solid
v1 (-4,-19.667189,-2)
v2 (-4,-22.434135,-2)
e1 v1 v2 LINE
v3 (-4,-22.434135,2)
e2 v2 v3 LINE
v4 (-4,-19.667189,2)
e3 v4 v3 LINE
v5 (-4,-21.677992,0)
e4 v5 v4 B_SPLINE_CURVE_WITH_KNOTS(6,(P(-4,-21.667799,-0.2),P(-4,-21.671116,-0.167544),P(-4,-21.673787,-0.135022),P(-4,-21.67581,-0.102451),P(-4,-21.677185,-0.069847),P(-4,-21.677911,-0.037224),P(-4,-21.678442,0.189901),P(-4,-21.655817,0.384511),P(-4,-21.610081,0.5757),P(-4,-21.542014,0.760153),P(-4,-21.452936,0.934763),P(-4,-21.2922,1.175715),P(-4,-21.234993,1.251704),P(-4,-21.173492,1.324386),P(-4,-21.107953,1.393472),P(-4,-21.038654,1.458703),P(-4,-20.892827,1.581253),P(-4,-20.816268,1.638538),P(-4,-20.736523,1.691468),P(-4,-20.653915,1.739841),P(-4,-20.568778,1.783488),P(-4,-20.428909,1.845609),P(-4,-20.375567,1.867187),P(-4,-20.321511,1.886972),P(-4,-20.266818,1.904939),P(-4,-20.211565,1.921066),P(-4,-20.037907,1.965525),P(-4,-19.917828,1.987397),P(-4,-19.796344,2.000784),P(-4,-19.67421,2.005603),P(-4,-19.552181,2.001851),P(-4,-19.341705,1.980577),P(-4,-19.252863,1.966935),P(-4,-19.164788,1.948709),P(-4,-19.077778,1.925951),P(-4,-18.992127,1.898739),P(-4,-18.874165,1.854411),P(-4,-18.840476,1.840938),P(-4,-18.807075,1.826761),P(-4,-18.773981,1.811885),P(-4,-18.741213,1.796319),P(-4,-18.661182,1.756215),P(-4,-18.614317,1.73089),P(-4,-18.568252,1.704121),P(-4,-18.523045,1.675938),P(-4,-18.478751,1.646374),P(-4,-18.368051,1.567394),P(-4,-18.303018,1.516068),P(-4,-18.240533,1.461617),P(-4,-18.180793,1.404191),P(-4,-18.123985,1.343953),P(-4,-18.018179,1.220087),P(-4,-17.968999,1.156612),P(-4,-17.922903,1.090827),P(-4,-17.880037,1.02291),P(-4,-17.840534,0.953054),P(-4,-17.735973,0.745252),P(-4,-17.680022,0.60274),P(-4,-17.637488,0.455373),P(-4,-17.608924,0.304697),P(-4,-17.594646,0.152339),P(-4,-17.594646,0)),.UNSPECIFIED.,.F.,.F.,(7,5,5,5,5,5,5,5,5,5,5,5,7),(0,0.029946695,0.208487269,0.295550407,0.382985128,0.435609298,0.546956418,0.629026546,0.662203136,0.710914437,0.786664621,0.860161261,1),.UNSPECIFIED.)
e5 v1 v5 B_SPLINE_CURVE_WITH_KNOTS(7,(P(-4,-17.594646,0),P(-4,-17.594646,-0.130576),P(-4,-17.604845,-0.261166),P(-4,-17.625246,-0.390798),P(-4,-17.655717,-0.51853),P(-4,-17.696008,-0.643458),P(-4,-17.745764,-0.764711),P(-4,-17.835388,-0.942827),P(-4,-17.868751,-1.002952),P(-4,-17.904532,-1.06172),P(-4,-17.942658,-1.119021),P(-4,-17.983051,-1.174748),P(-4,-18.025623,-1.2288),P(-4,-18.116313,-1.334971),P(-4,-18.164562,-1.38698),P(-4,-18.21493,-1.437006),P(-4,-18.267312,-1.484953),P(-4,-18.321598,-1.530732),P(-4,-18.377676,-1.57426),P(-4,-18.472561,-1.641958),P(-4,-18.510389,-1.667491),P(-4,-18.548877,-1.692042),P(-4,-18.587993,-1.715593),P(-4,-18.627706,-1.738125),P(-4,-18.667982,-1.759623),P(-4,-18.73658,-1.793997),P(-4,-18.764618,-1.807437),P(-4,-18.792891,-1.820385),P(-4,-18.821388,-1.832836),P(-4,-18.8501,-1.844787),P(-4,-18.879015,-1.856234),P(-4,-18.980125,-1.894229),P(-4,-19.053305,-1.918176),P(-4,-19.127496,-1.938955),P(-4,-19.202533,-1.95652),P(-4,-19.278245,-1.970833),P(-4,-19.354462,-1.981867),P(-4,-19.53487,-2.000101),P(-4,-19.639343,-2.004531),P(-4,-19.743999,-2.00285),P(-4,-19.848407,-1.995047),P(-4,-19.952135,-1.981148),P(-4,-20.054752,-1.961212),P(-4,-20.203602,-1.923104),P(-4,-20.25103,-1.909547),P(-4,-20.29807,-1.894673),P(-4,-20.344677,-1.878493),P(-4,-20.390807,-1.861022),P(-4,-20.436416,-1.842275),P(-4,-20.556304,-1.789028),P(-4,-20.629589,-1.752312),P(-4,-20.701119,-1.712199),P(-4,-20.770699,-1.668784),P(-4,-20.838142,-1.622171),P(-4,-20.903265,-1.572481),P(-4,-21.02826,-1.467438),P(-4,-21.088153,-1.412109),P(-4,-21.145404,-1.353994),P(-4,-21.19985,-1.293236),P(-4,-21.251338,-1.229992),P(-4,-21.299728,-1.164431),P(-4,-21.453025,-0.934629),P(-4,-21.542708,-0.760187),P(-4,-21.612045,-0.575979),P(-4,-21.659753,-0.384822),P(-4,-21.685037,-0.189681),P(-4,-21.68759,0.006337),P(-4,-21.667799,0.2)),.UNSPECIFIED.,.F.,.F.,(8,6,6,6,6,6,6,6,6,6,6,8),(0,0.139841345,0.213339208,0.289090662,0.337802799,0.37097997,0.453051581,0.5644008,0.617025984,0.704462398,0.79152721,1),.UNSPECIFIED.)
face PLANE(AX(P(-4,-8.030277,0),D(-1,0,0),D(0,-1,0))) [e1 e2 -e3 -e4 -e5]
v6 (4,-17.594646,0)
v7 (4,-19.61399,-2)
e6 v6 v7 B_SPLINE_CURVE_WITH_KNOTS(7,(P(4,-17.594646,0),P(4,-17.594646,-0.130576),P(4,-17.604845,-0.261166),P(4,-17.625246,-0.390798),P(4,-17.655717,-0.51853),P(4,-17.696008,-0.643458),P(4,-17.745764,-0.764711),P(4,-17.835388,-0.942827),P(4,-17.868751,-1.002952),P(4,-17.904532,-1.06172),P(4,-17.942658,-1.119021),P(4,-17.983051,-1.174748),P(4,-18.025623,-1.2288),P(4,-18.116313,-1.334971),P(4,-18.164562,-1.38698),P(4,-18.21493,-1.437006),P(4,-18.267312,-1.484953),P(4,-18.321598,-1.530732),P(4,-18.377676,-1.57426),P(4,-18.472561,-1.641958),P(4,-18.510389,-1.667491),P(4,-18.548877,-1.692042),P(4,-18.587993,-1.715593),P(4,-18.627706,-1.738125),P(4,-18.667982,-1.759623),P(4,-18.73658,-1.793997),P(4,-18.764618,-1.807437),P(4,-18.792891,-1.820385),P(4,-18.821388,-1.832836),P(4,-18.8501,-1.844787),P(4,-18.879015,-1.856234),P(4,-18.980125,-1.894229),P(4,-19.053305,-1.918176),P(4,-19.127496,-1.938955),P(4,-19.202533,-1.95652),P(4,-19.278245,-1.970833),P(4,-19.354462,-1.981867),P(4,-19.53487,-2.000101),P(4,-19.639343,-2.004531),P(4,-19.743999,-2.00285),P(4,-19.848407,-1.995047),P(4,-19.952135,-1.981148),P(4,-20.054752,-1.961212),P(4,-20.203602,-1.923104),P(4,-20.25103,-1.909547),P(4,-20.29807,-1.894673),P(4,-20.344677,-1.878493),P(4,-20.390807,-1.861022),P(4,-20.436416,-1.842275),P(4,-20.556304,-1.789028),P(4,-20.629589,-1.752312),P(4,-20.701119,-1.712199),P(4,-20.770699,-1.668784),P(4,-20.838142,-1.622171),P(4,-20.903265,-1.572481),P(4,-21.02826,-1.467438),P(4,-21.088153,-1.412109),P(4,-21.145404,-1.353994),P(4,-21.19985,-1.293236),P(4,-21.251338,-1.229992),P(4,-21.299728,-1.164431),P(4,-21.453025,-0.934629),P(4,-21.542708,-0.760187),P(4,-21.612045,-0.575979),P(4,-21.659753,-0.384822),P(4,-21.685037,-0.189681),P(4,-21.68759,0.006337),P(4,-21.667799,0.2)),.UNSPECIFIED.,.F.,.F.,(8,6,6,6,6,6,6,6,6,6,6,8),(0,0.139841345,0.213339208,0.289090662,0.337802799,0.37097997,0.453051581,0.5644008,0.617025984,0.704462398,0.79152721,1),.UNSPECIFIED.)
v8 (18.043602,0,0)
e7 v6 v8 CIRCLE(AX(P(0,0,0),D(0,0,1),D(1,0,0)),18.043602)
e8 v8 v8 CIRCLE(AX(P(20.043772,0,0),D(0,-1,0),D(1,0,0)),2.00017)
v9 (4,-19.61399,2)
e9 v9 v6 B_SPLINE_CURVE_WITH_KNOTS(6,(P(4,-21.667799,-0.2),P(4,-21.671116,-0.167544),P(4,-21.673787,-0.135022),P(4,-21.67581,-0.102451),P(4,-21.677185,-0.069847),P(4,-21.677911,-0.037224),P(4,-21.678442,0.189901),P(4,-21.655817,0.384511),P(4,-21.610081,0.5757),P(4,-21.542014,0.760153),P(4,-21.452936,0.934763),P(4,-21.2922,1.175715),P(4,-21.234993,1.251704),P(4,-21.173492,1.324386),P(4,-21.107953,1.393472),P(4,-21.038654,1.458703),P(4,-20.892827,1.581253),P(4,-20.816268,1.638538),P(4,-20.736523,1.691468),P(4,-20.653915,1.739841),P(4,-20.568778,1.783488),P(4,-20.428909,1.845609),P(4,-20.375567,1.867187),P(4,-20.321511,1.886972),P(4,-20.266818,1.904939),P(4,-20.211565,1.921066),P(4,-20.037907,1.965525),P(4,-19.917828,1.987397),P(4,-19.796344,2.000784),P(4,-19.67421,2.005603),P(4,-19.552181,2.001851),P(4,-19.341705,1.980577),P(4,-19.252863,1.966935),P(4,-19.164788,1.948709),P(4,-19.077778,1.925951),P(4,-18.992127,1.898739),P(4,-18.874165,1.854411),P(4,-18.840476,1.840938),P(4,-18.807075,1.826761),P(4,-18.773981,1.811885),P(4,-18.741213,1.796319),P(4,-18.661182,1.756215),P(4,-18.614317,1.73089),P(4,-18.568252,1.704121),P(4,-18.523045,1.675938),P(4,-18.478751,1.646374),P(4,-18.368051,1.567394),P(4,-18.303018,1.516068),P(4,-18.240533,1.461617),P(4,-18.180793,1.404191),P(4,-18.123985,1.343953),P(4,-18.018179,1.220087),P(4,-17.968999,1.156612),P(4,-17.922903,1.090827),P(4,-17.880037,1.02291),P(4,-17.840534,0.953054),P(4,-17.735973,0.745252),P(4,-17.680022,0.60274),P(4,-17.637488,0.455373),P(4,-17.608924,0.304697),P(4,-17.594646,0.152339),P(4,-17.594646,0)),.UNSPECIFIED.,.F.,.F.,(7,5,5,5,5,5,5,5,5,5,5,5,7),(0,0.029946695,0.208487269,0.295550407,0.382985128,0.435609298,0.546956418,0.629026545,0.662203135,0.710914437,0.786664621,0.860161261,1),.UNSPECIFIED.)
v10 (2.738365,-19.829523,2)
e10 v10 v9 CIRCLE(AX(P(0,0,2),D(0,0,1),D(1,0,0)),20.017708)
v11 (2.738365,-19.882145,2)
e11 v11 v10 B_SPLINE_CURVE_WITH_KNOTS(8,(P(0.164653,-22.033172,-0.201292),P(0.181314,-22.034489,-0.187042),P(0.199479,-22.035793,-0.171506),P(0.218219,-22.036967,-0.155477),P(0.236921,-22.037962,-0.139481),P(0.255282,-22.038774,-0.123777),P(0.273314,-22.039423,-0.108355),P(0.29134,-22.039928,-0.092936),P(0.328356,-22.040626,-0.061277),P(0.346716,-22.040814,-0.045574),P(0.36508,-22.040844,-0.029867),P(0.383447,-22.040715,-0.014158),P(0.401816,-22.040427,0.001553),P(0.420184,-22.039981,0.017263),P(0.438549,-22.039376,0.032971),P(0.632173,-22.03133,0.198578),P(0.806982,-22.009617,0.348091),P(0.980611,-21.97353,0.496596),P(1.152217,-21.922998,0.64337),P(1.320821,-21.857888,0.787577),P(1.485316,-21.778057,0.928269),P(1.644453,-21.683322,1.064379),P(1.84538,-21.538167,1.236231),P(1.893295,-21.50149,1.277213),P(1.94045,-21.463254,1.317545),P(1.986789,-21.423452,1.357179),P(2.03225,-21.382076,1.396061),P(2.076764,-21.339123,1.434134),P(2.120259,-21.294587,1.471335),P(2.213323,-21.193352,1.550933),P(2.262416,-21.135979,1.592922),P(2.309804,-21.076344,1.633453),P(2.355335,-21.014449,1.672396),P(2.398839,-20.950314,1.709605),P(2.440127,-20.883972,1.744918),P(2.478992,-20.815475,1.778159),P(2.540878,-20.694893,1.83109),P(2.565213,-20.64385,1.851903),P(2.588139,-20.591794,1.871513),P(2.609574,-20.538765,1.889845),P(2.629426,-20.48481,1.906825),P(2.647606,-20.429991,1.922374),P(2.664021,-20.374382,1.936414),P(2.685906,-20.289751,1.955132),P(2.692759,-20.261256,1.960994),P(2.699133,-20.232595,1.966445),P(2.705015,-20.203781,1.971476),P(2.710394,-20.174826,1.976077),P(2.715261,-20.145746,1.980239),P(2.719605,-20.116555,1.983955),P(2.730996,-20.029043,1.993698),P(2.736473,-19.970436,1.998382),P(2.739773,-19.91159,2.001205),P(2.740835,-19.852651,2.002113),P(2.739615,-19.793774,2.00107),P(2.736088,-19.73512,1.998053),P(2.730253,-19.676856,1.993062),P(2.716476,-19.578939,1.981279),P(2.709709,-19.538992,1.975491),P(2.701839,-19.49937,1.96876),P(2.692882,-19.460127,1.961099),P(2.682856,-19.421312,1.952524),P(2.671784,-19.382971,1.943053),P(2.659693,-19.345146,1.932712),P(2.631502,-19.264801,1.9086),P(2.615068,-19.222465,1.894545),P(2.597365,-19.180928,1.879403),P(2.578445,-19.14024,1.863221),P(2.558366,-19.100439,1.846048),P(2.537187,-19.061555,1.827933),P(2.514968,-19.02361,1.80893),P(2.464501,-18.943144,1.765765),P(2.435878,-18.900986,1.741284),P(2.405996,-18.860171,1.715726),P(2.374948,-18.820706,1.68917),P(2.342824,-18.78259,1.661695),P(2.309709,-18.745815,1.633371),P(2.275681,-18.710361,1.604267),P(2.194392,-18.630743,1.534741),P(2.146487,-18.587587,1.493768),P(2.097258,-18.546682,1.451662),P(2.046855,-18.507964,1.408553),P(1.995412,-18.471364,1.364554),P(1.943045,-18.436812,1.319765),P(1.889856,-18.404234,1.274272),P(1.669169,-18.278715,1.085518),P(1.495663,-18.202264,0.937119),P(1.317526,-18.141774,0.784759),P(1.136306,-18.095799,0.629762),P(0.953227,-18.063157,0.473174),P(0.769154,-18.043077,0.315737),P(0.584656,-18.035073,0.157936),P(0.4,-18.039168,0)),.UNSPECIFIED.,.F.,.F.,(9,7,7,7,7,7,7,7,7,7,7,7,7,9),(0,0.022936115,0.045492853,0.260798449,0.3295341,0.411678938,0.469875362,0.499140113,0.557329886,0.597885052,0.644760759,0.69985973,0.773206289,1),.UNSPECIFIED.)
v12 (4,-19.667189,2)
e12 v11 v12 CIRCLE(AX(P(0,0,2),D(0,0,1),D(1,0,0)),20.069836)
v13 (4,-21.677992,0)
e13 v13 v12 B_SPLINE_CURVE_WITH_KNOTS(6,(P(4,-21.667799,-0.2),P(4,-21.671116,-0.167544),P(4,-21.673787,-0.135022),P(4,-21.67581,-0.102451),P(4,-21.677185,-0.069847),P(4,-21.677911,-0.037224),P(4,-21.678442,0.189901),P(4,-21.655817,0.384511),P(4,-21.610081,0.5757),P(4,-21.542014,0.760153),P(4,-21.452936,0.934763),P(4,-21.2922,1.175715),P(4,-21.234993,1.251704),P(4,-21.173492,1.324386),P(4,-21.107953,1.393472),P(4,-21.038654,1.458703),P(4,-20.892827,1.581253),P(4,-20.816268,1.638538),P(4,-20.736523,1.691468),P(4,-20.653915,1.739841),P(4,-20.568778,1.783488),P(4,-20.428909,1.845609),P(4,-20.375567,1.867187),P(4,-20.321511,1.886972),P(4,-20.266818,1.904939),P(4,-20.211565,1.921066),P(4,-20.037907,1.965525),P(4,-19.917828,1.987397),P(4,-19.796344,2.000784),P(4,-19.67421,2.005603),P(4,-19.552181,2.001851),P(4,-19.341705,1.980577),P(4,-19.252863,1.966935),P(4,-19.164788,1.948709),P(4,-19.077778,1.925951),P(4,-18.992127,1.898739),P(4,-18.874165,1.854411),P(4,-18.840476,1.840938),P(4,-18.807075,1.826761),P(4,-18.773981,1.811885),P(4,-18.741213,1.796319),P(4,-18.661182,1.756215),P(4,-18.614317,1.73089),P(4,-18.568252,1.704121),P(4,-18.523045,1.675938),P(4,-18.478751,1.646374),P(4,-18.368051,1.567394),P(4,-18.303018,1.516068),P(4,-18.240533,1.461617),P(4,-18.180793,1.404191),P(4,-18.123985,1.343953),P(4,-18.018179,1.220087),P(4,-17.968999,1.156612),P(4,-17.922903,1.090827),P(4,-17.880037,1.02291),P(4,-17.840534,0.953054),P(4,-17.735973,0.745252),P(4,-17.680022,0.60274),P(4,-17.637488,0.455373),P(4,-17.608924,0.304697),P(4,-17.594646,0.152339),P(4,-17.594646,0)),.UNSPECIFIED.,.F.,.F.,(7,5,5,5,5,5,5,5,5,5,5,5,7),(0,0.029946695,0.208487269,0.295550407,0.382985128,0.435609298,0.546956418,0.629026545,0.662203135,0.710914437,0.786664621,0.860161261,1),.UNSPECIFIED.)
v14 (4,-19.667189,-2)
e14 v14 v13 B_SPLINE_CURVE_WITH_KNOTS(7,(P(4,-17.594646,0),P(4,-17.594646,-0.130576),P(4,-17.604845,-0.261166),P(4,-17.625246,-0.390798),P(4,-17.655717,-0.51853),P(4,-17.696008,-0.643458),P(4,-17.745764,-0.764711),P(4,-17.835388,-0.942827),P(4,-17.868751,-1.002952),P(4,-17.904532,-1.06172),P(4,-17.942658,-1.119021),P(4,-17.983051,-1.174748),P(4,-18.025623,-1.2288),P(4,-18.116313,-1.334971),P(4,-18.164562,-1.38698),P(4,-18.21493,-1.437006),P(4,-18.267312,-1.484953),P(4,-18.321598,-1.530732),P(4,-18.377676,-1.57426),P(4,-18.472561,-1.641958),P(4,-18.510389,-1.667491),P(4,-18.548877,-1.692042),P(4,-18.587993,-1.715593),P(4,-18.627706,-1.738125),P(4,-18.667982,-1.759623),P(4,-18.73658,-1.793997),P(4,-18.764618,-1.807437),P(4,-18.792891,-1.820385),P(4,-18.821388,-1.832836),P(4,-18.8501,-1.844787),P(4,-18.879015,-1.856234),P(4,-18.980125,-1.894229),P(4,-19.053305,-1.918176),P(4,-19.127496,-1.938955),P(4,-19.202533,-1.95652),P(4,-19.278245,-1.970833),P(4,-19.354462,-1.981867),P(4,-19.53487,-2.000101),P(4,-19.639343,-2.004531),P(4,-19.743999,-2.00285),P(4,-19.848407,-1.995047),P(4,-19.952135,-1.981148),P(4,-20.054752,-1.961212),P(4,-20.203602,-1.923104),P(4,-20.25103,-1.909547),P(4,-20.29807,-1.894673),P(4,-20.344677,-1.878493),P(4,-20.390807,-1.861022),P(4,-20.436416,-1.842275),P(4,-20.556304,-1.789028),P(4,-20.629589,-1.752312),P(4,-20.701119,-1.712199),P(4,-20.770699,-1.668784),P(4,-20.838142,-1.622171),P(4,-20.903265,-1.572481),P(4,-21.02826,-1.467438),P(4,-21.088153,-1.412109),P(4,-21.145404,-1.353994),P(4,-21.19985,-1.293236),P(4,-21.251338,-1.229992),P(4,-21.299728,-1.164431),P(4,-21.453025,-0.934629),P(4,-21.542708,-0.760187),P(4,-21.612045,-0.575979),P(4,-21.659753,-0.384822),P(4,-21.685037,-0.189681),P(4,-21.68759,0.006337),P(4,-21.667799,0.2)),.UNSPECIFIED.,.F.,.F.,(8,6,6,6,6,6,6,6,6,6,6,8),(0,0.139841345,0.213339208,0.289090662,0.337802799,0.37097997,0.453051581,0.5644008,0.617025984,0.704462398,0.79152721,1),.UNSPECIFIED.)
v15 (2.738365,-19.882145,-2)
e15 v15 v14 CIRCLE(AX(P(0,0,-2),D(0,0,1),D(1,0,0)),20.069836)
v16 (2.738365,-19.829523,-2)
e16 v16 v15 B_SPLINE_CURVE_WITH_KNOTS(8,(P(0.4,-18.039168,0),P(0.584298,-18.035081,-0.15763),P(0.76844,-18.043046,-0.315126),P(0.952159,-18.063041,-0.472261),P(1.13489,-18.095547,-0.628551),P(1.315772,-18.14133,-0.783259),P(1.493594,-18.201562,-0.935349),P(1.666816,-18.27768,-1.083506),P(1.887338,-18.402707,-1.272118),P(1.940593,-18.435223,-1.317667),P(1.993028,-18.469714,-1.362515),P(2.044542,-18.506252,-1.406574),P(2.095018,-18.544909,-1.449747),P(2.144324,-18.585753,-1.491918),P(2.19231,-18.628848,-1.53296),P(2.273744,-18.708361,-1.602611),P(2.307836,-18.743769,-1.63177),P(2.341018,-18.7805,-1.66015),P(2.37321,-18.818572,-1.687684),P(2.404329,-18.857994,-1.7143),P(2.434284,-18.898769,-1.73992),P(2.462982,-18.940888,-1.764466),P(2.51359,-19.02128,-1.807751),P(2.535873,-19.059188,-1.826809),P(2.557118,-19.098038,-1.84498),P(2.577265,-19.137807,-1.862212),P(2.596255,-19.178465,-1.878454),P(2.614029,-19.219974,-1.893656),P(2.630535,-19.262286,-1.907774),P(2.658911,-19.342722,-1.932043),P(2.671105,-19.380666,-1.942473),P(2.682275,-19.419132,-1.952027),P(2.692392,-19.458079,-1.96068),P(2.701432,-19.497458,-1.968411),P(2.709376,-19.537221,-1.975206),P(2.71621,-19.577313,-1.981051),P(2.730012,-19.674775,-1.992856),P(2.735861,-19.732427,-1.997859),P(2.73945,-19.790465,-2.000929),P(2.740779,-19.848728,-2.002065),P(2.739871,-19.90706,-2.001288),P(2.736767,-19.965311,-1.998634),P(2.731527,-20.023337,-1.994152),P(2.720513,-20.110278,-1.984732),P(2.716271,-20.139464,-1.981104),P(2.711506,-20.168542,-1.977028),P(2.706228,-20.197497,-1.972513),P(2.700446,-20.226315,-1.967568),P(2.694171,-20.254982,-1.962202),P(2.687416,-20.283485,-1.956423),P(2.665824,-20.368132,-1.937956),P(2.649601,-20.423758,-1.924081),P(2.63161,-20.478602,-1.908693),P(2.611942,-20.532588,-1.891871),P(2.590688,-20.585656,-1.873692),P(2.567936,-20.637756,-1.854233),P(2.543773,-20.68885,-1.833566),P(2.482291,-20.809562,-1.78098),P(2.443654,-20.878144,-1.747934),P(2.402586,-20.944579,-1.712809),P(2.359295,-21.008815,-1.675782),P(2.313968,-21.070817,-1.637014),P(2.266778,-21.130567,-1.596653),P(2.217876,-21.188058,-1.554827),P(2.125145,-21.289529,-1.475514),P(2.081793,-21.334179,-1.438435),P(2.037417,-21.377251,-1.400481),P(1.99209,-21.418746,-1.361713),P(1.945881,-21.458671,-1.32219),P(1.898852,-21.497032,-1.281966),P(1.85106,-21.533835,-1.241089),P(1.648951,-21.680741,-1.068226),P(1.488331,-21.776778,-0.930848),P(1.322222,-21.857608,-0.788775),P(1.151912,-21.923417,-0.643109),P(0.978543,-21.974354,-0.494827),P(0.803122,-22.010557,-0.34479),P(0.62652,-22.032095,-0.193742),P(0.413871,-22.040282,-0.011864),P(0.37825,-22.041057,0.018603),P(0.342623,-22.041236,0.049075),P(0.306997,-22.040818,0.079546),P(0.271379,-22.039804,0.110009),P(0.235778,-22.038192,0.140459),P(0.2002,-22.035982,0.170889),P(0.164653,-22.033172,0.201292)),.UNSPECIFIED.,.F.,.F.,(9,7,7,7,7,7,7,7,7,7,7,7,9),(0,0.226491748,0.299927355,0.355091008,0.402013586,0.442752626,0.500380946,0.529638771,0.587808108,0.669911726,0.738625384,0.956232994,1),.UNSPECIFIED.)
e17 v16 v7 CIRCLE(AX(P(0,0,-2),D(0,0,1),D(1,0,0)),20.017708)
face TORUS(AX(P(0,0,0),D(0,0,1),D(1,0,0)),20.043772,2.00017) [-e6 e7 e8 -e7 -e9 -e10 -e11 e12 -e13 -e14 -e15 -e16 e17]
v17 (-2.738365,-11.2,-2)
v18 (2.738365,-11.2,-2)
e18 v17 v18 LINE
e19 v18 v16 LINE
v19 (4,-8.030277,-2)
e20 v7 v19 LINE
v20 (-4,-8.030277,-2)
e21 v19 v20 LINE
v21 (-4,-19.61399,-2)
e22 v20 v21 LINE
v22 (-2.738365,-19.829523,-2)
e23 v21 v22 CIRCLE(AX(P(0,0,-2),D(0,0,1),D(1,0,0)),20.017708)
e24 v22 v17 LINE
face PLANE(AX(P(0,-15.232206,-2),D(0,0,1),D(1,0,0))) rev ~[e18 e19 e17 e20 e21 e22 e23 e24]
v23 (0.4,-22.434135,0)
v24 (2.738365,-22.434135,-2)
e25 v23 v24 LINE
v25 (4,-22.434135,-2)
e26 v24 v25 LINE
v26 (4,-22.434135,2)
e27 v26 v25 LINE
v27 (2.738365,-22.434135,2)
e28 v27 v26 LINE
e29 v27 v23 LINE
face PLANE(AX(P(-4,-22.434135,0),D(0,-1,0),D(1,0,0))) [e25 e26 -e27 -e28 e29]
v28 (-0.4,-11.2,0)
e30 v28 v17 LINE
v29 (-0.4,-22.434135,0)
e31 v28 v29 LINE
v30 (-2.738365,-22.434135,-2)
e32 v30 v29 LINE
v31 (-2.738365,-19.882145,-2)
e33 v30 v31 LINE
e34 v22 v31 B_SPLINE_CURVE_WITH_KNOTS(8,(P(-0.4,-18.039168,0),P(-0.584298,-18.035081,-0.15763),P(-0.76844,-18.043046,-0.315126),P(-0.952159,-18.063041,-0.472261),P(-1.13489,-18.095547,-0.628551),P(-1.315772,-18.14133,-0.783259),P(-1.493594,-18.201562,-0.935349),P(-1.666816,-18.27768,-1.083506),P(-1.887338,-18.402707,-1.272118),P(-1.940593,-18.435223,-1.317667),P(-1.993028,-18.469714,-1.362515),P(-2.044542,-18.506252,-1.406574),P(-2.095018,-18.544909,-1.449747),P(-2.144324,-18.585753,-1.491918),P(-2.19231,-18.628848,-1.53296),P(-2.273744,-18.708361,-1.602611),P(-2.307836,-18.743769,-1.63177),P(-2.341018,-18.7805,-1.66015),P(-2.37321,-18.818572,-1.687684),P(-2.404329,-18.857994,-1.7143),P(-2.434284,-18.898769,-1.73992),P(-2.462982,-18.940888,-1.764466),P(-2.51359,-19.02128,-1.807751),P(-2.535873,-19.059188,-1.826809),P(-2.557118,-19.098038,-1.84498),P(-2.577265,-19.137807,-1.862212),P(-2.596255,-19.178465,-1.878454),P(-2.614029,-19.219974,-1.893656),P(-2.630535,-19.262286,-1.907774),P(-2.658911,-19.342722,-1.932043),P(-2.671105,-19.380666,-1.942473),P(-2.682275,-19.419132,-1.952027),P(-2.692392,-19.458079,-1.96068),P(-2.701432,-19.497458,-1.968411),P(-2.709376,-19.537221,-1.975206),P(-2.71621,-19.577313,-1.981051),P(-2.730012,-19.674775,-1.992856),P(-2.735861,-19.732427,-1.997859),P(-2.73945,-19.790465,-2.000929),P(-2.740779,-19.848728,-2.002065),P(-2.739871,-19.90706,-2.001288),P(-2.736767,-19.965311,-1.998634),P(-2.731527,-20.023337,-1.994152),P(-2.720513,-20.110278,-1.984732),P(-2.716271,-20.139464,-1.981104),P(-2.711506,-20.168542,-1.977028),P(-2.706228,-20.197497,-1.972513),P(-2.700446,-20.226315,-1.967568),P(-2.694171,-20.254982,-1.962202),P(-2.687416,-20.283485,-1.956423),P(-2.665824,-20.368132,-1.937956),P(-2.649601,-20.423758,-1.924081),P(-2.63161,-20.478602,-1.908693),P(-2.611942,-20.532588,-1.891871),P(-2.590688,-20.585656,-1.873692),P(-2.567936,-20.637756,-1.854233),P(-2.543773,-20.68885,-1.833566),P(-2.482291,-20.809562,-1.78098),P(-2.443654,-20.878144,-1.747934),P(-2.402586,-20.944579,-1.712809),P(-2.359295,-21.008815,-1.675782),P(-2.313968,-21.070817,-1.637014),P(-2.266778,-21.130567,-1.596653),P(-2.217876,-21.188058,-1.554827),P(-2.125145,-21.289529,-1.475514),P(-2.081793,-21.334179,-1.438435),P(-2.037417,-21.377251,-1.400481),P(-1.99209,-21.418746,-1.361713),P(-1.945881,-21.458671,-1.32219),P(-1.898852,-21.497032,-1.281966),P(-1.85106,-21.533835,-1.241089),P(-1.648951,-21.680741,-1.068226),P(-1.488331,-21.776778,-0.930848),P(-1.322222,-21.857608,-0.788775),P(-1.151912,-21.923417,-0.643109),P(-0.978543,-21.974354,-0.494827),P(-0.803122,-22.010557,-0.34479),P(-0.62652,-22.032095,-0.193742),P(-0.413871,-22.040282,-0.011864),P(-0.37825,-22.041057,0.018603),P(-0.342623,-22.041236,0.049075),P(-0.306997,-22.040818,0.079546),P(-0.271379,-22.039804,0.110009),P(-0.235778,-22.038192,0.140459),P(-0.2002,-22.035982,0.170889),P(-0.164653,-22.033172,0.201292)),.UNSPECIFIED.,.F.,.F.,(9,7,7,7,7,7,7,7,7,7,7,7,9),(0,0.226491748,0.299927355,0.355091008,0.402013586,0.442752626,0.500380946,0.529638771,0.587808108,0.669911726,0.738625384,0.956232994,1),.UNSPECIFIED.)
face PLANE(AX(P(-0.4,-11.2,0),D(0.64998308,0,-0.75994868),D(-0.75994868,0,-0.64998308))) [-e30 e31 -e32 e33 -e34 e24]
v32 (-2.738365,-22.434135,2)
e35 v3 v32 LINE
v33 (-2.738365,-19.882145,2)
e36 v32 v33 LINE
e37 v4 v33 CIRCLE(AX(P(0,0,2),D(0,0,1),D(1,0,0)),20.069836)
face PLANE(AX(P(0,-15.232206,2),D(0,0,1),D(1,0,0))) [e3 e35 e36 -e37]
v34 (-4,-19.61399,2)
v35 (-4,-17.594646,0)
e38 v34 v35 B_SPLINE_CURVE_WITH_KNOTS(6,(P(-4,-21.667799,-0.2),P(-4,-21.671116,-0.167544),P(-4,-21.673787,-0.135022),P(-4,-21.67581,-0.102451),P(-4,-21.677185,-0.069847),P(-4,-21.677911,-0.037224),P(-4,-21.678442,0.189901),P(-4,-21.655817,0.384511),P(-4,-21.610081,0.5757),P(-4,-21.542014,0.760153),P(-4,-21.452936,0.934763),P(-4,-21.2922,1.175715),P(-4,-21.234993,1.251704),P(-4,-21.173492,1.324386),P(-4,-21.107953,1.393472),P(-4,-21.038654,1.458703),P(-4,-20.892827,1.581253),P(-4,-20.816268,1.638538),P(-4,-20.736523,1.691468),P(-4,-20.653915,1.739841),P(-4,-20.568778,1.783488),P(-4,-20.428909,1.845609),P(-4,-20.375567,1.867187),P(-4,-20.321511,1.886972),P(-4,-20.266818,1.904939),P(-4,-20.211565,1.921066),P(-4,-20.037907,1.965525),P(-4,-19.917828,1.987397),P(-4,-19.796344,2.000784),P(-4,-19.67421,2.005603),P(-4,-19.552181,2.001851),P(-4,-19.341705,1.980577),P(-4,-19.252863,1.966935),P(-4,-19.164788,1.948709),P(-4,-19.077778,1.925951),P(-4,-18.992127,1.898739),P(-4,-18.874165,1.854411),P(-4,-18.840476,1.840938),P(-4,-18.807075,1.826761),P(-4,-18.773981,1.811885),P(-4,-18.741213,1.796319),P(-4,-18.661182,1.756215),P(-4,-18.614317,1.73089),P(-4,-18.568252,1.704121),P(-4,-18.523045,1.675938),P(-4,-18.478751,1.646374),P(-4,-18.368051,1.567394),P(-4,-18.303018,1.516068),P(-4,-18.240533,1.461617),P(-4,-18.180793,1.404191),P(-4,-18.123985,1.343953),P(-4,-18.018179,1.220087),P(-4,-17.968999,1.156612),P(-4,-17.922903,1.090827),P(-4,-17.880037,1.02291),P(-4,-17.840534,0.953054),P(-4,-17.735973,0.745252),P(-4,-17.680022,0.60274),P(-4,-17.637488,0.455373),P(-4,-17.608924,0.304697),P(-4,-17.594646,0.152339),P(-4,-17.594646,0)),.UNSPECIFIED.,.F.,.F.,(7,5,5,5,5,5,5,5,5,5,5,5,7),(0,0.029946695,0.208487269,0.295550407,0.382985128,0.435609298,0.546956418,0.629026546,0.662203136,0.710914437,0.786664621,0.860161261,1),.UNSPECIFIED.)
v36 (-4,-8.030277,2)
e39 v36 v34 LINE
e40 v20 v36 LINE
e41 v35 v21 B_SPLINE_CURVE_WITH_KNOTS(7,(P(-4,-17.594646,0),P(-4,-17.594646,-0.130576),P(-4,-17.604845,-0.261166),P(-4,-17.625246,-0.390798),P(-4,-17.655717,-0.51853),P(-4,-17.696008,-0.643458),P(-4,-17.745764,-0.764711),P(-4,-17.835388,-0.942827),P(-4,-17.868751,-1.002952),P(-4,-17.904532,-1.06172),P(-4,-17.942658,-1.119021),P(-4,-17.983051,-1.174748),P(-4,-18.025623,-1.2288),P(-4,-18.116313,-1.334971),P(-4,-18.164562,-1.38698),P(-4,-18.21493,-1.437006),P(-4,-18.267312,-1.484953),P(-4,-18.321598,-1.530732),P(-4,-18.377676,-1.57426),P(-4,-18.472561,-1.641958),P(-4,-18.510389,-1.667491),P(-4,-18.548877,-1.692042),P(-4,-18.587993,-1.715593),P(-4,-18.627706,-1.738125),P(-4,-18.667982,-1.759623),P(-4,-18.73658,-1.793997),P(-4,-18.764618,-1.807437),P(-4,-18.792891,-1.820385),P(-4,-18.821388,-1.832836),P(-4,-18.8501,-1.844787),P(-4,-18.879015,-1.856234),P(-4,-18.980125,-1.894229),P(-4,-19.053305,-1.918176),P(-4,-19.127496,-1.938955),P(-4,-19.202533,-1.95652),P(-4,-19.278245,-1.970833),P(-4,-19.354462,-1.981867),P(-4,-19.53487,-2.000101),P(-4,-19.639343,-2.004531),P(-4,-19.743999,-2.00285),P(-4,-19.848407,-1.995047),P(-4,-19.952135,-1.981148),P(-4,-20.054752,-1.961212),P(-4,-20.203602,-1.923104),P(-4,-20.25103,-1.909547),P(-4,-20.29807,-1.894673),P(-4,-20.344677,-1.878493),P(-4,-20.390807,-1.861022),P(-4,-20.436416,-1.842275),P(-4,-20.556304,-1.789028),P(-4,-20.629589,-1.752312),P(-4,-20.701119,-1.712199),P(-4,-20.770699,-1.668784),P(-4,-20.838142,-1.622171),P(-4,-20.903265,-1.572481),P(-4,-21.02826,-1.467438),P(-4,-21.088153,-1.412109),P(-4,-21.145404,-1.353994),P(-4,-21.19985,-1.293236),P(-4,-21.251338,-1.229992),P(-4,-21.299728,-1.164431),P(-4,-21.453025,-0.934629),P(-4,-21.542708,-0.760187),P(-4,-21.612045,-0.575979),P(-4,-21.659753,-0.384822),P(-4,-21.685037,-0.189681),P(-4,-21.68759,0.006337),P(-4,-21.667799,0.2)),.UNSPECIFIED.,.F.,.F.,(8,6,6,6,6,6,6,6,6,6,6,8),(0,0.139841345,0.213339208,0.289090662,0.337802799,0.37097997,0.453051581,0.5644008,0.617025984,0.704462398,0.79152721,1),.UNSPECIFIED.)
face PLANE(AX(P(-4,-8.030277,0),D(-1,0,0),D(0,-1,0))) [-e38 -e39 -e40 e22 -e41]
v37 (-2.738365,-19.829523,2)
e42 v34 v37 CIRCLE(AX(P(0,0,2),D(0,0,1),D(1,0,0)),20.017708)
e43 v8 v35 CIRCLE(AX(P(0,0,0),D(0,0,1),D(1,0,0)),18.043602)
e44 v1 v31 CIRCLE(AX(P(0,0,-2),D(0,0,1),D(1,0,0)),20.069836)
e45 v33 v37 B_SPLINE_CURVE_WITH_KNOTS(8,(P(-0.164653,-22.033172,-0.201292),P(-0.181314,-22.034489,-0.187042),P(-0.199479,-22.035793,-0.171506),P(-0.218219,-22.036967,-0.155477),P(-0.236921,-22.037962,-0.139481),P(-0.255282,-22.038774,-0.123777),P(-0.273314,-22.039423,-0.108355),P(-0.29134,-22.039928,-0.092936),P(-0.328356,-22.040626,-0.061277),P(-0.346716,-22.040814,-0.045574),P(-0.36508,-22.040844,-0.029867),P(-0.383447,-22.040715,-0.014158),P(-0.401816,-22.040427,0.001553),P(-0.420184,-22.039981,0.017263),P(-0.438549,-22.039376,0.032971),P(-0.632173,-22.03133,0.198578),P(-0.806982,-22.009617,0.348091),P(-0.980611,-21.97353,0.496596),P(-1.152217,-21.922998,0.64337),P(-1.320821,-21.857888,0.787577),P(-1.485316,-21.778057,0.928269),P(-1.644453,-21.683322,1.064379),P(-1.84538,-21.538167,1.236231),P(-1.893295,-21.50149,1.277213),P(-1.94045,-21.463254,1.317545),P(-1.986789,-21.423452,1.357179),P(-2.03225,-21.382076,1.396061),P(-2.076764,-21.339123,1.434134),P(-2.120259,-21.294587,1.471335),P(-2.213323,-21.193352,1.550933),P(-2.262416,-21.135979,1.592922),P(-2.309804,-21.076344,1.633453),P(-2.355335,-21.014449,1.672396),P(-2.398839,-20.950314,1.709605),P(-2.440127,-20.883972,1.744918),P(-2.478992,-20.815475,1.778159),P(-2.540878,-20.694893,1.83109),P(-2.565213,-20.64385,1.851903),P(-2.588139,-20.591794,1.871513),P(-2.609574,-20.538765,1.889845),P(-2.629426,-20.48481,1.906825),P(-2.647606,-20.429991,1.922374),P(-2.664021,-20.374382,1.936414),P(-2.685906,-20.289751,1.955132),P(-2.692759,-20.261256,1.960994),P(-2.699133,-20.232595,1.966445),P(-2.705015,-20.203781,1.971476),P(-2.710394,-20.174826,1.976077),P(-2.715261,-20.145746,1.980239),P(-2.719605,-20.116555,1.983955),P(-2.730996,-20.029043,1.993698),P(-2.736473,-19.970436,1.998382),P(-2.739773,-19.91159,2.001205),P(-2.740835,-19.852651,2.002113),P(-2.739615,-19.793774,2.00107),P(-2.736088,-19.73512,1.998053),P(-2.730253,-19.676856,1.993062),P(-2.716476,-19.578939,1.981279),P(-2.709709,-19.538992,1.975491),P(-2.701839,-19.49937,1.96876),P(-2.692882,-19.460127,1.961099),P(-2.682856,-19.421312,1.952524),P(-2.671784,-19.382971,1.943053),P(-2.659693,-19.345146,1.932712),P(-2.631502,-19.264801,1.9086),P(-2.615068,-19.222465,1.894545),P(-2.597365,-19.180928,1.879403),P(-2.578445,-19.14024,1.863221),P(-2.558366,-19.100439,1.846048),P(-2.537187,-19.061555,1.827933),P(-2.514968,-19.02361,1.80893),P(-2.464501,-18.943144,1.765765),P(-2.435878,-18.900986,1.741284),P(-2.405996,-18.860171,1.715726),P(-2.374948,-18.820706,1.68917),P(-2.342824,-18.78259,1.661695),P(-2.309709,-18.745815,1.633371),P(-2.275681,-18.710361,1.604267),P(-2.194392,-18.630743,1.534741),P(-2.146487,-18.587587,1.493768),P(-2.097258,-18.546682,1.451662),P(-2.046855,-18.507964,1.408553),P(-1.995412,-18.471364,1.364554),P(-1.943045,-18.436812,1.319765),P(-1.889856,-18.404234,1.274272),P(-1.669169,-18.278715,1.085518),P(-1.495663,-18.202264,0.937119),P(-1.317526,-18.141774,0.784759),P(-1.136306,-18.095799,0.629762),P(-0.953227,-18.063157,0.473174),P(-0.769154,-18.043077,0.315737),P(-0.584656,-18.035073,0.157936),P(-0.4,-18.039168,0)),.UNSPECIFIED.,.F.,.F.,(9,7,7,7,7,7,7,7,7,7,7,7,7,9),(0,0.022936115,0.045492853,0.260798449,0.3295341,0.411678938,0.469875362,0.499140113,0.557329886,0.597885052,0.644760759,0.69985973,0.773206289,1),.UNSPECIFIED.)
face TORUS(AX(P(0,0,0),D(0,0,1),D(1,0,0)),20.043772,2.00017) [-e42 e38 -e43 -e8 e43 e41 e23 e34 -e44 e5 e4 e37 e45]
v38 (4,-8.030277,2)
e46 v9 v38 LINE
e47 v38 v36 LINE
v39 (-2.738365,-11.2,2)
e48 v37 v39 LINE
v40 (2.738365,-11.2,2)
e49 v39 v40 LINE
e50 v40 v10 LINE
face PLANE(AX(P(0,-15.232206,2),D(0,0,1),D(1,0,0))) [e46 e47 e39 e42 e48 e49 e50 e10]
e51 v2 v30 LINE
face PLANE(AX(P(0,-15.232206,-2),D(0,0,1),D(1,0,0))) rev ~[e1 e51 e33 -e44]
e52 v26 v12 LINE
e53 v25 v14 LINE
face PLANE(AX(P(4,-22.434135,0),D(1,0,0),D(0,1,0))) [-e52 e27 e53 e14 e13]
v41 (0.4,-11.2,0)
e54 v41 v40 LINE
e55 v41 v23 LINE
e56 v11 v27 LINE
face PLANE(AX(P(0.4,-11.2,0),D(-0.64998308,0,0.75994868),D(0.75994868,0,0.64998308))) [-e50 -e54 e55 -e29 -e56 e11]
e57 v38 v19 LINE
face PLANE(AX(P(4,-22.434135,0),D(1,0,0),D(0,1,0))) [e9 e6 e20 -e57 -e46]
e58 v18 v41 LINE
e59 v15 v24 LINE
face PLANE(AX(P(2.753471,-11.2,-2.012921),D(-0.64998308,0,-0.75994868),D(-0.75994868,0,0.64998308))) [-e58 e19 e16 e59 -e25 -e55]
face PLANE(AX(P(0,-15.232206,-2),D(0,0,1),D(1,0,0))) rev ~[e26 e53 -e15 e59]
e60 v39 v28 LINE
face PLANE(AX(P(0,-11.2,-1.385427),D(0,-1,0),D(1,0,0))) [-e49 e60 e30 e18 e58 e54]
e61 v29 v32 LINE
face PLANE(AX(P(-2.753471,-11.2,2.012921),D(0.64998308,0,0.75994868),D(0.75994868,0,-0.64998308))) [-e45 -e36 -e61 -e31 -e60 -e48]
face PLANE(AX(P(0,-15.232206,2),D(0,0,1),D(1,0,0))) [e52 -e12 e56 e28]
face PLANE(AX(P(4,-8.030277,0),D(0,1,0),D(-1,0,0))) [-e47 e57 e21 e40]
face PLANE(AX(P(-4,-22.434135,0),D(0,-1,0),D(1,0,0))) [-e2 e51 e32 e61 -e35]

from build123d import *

# Parameters (mm, degrees)
F1_R          = 2.0001698285
F4_DEPTH      = 2
F4_DEPTH_BACK = 2
F6_START      = 11.2
F6_DEPTH      = 25.6


with BuildPart() as f2:
    # F2: sweep along a path in F0
    with BuildLine(Plane.XY) as f2_path:
        CenterArc((0, 0), 18, 0, 360)
    # F1 (on Front) → F2 (sweep)
    with BuildSketch(Plane.XZ):
        with Locations((-20.043771714, 0)):
            Circle(F1_R)
    sweep(path=f2_path.line)

    # F3 (on Top) → F4 (join, two sides)
    with BuildSketch(Plane.XY) as f4_sk:
        Polygon((4, -8.0302771777), (0, -8.0302771777), (-4, -8.0302771777), (-4, -19.9341345578), (-4, -22.4341345578), (4, -22.4341345578), (4, -19.9341345578), align=None)
    extrude(amount=F4_DEPTH)
    extrude(f4_sk.sketch, amount=-F4_DEPTH_BACK)

    # F5 (on Front) → F6 (cut)
    with BuildSketch(Plane.XZ.offset(F6_START)):
        Polygon((-2.7534713777, -2.0129208903), (2.7534713777, -2.0129208903), (0.4, 0), (0, 0), (-0.4, 0), align=None)
        Polygon((0, 0), (0.4, 0), (2.7534713777, 2.0129208903), (-2.7534713777, 2.0129208903), (-0.4, 0), align=None)
    extrude(amount=F6_DEPTH, mode=Mode.SUBTRACT)


solid = f2.part
